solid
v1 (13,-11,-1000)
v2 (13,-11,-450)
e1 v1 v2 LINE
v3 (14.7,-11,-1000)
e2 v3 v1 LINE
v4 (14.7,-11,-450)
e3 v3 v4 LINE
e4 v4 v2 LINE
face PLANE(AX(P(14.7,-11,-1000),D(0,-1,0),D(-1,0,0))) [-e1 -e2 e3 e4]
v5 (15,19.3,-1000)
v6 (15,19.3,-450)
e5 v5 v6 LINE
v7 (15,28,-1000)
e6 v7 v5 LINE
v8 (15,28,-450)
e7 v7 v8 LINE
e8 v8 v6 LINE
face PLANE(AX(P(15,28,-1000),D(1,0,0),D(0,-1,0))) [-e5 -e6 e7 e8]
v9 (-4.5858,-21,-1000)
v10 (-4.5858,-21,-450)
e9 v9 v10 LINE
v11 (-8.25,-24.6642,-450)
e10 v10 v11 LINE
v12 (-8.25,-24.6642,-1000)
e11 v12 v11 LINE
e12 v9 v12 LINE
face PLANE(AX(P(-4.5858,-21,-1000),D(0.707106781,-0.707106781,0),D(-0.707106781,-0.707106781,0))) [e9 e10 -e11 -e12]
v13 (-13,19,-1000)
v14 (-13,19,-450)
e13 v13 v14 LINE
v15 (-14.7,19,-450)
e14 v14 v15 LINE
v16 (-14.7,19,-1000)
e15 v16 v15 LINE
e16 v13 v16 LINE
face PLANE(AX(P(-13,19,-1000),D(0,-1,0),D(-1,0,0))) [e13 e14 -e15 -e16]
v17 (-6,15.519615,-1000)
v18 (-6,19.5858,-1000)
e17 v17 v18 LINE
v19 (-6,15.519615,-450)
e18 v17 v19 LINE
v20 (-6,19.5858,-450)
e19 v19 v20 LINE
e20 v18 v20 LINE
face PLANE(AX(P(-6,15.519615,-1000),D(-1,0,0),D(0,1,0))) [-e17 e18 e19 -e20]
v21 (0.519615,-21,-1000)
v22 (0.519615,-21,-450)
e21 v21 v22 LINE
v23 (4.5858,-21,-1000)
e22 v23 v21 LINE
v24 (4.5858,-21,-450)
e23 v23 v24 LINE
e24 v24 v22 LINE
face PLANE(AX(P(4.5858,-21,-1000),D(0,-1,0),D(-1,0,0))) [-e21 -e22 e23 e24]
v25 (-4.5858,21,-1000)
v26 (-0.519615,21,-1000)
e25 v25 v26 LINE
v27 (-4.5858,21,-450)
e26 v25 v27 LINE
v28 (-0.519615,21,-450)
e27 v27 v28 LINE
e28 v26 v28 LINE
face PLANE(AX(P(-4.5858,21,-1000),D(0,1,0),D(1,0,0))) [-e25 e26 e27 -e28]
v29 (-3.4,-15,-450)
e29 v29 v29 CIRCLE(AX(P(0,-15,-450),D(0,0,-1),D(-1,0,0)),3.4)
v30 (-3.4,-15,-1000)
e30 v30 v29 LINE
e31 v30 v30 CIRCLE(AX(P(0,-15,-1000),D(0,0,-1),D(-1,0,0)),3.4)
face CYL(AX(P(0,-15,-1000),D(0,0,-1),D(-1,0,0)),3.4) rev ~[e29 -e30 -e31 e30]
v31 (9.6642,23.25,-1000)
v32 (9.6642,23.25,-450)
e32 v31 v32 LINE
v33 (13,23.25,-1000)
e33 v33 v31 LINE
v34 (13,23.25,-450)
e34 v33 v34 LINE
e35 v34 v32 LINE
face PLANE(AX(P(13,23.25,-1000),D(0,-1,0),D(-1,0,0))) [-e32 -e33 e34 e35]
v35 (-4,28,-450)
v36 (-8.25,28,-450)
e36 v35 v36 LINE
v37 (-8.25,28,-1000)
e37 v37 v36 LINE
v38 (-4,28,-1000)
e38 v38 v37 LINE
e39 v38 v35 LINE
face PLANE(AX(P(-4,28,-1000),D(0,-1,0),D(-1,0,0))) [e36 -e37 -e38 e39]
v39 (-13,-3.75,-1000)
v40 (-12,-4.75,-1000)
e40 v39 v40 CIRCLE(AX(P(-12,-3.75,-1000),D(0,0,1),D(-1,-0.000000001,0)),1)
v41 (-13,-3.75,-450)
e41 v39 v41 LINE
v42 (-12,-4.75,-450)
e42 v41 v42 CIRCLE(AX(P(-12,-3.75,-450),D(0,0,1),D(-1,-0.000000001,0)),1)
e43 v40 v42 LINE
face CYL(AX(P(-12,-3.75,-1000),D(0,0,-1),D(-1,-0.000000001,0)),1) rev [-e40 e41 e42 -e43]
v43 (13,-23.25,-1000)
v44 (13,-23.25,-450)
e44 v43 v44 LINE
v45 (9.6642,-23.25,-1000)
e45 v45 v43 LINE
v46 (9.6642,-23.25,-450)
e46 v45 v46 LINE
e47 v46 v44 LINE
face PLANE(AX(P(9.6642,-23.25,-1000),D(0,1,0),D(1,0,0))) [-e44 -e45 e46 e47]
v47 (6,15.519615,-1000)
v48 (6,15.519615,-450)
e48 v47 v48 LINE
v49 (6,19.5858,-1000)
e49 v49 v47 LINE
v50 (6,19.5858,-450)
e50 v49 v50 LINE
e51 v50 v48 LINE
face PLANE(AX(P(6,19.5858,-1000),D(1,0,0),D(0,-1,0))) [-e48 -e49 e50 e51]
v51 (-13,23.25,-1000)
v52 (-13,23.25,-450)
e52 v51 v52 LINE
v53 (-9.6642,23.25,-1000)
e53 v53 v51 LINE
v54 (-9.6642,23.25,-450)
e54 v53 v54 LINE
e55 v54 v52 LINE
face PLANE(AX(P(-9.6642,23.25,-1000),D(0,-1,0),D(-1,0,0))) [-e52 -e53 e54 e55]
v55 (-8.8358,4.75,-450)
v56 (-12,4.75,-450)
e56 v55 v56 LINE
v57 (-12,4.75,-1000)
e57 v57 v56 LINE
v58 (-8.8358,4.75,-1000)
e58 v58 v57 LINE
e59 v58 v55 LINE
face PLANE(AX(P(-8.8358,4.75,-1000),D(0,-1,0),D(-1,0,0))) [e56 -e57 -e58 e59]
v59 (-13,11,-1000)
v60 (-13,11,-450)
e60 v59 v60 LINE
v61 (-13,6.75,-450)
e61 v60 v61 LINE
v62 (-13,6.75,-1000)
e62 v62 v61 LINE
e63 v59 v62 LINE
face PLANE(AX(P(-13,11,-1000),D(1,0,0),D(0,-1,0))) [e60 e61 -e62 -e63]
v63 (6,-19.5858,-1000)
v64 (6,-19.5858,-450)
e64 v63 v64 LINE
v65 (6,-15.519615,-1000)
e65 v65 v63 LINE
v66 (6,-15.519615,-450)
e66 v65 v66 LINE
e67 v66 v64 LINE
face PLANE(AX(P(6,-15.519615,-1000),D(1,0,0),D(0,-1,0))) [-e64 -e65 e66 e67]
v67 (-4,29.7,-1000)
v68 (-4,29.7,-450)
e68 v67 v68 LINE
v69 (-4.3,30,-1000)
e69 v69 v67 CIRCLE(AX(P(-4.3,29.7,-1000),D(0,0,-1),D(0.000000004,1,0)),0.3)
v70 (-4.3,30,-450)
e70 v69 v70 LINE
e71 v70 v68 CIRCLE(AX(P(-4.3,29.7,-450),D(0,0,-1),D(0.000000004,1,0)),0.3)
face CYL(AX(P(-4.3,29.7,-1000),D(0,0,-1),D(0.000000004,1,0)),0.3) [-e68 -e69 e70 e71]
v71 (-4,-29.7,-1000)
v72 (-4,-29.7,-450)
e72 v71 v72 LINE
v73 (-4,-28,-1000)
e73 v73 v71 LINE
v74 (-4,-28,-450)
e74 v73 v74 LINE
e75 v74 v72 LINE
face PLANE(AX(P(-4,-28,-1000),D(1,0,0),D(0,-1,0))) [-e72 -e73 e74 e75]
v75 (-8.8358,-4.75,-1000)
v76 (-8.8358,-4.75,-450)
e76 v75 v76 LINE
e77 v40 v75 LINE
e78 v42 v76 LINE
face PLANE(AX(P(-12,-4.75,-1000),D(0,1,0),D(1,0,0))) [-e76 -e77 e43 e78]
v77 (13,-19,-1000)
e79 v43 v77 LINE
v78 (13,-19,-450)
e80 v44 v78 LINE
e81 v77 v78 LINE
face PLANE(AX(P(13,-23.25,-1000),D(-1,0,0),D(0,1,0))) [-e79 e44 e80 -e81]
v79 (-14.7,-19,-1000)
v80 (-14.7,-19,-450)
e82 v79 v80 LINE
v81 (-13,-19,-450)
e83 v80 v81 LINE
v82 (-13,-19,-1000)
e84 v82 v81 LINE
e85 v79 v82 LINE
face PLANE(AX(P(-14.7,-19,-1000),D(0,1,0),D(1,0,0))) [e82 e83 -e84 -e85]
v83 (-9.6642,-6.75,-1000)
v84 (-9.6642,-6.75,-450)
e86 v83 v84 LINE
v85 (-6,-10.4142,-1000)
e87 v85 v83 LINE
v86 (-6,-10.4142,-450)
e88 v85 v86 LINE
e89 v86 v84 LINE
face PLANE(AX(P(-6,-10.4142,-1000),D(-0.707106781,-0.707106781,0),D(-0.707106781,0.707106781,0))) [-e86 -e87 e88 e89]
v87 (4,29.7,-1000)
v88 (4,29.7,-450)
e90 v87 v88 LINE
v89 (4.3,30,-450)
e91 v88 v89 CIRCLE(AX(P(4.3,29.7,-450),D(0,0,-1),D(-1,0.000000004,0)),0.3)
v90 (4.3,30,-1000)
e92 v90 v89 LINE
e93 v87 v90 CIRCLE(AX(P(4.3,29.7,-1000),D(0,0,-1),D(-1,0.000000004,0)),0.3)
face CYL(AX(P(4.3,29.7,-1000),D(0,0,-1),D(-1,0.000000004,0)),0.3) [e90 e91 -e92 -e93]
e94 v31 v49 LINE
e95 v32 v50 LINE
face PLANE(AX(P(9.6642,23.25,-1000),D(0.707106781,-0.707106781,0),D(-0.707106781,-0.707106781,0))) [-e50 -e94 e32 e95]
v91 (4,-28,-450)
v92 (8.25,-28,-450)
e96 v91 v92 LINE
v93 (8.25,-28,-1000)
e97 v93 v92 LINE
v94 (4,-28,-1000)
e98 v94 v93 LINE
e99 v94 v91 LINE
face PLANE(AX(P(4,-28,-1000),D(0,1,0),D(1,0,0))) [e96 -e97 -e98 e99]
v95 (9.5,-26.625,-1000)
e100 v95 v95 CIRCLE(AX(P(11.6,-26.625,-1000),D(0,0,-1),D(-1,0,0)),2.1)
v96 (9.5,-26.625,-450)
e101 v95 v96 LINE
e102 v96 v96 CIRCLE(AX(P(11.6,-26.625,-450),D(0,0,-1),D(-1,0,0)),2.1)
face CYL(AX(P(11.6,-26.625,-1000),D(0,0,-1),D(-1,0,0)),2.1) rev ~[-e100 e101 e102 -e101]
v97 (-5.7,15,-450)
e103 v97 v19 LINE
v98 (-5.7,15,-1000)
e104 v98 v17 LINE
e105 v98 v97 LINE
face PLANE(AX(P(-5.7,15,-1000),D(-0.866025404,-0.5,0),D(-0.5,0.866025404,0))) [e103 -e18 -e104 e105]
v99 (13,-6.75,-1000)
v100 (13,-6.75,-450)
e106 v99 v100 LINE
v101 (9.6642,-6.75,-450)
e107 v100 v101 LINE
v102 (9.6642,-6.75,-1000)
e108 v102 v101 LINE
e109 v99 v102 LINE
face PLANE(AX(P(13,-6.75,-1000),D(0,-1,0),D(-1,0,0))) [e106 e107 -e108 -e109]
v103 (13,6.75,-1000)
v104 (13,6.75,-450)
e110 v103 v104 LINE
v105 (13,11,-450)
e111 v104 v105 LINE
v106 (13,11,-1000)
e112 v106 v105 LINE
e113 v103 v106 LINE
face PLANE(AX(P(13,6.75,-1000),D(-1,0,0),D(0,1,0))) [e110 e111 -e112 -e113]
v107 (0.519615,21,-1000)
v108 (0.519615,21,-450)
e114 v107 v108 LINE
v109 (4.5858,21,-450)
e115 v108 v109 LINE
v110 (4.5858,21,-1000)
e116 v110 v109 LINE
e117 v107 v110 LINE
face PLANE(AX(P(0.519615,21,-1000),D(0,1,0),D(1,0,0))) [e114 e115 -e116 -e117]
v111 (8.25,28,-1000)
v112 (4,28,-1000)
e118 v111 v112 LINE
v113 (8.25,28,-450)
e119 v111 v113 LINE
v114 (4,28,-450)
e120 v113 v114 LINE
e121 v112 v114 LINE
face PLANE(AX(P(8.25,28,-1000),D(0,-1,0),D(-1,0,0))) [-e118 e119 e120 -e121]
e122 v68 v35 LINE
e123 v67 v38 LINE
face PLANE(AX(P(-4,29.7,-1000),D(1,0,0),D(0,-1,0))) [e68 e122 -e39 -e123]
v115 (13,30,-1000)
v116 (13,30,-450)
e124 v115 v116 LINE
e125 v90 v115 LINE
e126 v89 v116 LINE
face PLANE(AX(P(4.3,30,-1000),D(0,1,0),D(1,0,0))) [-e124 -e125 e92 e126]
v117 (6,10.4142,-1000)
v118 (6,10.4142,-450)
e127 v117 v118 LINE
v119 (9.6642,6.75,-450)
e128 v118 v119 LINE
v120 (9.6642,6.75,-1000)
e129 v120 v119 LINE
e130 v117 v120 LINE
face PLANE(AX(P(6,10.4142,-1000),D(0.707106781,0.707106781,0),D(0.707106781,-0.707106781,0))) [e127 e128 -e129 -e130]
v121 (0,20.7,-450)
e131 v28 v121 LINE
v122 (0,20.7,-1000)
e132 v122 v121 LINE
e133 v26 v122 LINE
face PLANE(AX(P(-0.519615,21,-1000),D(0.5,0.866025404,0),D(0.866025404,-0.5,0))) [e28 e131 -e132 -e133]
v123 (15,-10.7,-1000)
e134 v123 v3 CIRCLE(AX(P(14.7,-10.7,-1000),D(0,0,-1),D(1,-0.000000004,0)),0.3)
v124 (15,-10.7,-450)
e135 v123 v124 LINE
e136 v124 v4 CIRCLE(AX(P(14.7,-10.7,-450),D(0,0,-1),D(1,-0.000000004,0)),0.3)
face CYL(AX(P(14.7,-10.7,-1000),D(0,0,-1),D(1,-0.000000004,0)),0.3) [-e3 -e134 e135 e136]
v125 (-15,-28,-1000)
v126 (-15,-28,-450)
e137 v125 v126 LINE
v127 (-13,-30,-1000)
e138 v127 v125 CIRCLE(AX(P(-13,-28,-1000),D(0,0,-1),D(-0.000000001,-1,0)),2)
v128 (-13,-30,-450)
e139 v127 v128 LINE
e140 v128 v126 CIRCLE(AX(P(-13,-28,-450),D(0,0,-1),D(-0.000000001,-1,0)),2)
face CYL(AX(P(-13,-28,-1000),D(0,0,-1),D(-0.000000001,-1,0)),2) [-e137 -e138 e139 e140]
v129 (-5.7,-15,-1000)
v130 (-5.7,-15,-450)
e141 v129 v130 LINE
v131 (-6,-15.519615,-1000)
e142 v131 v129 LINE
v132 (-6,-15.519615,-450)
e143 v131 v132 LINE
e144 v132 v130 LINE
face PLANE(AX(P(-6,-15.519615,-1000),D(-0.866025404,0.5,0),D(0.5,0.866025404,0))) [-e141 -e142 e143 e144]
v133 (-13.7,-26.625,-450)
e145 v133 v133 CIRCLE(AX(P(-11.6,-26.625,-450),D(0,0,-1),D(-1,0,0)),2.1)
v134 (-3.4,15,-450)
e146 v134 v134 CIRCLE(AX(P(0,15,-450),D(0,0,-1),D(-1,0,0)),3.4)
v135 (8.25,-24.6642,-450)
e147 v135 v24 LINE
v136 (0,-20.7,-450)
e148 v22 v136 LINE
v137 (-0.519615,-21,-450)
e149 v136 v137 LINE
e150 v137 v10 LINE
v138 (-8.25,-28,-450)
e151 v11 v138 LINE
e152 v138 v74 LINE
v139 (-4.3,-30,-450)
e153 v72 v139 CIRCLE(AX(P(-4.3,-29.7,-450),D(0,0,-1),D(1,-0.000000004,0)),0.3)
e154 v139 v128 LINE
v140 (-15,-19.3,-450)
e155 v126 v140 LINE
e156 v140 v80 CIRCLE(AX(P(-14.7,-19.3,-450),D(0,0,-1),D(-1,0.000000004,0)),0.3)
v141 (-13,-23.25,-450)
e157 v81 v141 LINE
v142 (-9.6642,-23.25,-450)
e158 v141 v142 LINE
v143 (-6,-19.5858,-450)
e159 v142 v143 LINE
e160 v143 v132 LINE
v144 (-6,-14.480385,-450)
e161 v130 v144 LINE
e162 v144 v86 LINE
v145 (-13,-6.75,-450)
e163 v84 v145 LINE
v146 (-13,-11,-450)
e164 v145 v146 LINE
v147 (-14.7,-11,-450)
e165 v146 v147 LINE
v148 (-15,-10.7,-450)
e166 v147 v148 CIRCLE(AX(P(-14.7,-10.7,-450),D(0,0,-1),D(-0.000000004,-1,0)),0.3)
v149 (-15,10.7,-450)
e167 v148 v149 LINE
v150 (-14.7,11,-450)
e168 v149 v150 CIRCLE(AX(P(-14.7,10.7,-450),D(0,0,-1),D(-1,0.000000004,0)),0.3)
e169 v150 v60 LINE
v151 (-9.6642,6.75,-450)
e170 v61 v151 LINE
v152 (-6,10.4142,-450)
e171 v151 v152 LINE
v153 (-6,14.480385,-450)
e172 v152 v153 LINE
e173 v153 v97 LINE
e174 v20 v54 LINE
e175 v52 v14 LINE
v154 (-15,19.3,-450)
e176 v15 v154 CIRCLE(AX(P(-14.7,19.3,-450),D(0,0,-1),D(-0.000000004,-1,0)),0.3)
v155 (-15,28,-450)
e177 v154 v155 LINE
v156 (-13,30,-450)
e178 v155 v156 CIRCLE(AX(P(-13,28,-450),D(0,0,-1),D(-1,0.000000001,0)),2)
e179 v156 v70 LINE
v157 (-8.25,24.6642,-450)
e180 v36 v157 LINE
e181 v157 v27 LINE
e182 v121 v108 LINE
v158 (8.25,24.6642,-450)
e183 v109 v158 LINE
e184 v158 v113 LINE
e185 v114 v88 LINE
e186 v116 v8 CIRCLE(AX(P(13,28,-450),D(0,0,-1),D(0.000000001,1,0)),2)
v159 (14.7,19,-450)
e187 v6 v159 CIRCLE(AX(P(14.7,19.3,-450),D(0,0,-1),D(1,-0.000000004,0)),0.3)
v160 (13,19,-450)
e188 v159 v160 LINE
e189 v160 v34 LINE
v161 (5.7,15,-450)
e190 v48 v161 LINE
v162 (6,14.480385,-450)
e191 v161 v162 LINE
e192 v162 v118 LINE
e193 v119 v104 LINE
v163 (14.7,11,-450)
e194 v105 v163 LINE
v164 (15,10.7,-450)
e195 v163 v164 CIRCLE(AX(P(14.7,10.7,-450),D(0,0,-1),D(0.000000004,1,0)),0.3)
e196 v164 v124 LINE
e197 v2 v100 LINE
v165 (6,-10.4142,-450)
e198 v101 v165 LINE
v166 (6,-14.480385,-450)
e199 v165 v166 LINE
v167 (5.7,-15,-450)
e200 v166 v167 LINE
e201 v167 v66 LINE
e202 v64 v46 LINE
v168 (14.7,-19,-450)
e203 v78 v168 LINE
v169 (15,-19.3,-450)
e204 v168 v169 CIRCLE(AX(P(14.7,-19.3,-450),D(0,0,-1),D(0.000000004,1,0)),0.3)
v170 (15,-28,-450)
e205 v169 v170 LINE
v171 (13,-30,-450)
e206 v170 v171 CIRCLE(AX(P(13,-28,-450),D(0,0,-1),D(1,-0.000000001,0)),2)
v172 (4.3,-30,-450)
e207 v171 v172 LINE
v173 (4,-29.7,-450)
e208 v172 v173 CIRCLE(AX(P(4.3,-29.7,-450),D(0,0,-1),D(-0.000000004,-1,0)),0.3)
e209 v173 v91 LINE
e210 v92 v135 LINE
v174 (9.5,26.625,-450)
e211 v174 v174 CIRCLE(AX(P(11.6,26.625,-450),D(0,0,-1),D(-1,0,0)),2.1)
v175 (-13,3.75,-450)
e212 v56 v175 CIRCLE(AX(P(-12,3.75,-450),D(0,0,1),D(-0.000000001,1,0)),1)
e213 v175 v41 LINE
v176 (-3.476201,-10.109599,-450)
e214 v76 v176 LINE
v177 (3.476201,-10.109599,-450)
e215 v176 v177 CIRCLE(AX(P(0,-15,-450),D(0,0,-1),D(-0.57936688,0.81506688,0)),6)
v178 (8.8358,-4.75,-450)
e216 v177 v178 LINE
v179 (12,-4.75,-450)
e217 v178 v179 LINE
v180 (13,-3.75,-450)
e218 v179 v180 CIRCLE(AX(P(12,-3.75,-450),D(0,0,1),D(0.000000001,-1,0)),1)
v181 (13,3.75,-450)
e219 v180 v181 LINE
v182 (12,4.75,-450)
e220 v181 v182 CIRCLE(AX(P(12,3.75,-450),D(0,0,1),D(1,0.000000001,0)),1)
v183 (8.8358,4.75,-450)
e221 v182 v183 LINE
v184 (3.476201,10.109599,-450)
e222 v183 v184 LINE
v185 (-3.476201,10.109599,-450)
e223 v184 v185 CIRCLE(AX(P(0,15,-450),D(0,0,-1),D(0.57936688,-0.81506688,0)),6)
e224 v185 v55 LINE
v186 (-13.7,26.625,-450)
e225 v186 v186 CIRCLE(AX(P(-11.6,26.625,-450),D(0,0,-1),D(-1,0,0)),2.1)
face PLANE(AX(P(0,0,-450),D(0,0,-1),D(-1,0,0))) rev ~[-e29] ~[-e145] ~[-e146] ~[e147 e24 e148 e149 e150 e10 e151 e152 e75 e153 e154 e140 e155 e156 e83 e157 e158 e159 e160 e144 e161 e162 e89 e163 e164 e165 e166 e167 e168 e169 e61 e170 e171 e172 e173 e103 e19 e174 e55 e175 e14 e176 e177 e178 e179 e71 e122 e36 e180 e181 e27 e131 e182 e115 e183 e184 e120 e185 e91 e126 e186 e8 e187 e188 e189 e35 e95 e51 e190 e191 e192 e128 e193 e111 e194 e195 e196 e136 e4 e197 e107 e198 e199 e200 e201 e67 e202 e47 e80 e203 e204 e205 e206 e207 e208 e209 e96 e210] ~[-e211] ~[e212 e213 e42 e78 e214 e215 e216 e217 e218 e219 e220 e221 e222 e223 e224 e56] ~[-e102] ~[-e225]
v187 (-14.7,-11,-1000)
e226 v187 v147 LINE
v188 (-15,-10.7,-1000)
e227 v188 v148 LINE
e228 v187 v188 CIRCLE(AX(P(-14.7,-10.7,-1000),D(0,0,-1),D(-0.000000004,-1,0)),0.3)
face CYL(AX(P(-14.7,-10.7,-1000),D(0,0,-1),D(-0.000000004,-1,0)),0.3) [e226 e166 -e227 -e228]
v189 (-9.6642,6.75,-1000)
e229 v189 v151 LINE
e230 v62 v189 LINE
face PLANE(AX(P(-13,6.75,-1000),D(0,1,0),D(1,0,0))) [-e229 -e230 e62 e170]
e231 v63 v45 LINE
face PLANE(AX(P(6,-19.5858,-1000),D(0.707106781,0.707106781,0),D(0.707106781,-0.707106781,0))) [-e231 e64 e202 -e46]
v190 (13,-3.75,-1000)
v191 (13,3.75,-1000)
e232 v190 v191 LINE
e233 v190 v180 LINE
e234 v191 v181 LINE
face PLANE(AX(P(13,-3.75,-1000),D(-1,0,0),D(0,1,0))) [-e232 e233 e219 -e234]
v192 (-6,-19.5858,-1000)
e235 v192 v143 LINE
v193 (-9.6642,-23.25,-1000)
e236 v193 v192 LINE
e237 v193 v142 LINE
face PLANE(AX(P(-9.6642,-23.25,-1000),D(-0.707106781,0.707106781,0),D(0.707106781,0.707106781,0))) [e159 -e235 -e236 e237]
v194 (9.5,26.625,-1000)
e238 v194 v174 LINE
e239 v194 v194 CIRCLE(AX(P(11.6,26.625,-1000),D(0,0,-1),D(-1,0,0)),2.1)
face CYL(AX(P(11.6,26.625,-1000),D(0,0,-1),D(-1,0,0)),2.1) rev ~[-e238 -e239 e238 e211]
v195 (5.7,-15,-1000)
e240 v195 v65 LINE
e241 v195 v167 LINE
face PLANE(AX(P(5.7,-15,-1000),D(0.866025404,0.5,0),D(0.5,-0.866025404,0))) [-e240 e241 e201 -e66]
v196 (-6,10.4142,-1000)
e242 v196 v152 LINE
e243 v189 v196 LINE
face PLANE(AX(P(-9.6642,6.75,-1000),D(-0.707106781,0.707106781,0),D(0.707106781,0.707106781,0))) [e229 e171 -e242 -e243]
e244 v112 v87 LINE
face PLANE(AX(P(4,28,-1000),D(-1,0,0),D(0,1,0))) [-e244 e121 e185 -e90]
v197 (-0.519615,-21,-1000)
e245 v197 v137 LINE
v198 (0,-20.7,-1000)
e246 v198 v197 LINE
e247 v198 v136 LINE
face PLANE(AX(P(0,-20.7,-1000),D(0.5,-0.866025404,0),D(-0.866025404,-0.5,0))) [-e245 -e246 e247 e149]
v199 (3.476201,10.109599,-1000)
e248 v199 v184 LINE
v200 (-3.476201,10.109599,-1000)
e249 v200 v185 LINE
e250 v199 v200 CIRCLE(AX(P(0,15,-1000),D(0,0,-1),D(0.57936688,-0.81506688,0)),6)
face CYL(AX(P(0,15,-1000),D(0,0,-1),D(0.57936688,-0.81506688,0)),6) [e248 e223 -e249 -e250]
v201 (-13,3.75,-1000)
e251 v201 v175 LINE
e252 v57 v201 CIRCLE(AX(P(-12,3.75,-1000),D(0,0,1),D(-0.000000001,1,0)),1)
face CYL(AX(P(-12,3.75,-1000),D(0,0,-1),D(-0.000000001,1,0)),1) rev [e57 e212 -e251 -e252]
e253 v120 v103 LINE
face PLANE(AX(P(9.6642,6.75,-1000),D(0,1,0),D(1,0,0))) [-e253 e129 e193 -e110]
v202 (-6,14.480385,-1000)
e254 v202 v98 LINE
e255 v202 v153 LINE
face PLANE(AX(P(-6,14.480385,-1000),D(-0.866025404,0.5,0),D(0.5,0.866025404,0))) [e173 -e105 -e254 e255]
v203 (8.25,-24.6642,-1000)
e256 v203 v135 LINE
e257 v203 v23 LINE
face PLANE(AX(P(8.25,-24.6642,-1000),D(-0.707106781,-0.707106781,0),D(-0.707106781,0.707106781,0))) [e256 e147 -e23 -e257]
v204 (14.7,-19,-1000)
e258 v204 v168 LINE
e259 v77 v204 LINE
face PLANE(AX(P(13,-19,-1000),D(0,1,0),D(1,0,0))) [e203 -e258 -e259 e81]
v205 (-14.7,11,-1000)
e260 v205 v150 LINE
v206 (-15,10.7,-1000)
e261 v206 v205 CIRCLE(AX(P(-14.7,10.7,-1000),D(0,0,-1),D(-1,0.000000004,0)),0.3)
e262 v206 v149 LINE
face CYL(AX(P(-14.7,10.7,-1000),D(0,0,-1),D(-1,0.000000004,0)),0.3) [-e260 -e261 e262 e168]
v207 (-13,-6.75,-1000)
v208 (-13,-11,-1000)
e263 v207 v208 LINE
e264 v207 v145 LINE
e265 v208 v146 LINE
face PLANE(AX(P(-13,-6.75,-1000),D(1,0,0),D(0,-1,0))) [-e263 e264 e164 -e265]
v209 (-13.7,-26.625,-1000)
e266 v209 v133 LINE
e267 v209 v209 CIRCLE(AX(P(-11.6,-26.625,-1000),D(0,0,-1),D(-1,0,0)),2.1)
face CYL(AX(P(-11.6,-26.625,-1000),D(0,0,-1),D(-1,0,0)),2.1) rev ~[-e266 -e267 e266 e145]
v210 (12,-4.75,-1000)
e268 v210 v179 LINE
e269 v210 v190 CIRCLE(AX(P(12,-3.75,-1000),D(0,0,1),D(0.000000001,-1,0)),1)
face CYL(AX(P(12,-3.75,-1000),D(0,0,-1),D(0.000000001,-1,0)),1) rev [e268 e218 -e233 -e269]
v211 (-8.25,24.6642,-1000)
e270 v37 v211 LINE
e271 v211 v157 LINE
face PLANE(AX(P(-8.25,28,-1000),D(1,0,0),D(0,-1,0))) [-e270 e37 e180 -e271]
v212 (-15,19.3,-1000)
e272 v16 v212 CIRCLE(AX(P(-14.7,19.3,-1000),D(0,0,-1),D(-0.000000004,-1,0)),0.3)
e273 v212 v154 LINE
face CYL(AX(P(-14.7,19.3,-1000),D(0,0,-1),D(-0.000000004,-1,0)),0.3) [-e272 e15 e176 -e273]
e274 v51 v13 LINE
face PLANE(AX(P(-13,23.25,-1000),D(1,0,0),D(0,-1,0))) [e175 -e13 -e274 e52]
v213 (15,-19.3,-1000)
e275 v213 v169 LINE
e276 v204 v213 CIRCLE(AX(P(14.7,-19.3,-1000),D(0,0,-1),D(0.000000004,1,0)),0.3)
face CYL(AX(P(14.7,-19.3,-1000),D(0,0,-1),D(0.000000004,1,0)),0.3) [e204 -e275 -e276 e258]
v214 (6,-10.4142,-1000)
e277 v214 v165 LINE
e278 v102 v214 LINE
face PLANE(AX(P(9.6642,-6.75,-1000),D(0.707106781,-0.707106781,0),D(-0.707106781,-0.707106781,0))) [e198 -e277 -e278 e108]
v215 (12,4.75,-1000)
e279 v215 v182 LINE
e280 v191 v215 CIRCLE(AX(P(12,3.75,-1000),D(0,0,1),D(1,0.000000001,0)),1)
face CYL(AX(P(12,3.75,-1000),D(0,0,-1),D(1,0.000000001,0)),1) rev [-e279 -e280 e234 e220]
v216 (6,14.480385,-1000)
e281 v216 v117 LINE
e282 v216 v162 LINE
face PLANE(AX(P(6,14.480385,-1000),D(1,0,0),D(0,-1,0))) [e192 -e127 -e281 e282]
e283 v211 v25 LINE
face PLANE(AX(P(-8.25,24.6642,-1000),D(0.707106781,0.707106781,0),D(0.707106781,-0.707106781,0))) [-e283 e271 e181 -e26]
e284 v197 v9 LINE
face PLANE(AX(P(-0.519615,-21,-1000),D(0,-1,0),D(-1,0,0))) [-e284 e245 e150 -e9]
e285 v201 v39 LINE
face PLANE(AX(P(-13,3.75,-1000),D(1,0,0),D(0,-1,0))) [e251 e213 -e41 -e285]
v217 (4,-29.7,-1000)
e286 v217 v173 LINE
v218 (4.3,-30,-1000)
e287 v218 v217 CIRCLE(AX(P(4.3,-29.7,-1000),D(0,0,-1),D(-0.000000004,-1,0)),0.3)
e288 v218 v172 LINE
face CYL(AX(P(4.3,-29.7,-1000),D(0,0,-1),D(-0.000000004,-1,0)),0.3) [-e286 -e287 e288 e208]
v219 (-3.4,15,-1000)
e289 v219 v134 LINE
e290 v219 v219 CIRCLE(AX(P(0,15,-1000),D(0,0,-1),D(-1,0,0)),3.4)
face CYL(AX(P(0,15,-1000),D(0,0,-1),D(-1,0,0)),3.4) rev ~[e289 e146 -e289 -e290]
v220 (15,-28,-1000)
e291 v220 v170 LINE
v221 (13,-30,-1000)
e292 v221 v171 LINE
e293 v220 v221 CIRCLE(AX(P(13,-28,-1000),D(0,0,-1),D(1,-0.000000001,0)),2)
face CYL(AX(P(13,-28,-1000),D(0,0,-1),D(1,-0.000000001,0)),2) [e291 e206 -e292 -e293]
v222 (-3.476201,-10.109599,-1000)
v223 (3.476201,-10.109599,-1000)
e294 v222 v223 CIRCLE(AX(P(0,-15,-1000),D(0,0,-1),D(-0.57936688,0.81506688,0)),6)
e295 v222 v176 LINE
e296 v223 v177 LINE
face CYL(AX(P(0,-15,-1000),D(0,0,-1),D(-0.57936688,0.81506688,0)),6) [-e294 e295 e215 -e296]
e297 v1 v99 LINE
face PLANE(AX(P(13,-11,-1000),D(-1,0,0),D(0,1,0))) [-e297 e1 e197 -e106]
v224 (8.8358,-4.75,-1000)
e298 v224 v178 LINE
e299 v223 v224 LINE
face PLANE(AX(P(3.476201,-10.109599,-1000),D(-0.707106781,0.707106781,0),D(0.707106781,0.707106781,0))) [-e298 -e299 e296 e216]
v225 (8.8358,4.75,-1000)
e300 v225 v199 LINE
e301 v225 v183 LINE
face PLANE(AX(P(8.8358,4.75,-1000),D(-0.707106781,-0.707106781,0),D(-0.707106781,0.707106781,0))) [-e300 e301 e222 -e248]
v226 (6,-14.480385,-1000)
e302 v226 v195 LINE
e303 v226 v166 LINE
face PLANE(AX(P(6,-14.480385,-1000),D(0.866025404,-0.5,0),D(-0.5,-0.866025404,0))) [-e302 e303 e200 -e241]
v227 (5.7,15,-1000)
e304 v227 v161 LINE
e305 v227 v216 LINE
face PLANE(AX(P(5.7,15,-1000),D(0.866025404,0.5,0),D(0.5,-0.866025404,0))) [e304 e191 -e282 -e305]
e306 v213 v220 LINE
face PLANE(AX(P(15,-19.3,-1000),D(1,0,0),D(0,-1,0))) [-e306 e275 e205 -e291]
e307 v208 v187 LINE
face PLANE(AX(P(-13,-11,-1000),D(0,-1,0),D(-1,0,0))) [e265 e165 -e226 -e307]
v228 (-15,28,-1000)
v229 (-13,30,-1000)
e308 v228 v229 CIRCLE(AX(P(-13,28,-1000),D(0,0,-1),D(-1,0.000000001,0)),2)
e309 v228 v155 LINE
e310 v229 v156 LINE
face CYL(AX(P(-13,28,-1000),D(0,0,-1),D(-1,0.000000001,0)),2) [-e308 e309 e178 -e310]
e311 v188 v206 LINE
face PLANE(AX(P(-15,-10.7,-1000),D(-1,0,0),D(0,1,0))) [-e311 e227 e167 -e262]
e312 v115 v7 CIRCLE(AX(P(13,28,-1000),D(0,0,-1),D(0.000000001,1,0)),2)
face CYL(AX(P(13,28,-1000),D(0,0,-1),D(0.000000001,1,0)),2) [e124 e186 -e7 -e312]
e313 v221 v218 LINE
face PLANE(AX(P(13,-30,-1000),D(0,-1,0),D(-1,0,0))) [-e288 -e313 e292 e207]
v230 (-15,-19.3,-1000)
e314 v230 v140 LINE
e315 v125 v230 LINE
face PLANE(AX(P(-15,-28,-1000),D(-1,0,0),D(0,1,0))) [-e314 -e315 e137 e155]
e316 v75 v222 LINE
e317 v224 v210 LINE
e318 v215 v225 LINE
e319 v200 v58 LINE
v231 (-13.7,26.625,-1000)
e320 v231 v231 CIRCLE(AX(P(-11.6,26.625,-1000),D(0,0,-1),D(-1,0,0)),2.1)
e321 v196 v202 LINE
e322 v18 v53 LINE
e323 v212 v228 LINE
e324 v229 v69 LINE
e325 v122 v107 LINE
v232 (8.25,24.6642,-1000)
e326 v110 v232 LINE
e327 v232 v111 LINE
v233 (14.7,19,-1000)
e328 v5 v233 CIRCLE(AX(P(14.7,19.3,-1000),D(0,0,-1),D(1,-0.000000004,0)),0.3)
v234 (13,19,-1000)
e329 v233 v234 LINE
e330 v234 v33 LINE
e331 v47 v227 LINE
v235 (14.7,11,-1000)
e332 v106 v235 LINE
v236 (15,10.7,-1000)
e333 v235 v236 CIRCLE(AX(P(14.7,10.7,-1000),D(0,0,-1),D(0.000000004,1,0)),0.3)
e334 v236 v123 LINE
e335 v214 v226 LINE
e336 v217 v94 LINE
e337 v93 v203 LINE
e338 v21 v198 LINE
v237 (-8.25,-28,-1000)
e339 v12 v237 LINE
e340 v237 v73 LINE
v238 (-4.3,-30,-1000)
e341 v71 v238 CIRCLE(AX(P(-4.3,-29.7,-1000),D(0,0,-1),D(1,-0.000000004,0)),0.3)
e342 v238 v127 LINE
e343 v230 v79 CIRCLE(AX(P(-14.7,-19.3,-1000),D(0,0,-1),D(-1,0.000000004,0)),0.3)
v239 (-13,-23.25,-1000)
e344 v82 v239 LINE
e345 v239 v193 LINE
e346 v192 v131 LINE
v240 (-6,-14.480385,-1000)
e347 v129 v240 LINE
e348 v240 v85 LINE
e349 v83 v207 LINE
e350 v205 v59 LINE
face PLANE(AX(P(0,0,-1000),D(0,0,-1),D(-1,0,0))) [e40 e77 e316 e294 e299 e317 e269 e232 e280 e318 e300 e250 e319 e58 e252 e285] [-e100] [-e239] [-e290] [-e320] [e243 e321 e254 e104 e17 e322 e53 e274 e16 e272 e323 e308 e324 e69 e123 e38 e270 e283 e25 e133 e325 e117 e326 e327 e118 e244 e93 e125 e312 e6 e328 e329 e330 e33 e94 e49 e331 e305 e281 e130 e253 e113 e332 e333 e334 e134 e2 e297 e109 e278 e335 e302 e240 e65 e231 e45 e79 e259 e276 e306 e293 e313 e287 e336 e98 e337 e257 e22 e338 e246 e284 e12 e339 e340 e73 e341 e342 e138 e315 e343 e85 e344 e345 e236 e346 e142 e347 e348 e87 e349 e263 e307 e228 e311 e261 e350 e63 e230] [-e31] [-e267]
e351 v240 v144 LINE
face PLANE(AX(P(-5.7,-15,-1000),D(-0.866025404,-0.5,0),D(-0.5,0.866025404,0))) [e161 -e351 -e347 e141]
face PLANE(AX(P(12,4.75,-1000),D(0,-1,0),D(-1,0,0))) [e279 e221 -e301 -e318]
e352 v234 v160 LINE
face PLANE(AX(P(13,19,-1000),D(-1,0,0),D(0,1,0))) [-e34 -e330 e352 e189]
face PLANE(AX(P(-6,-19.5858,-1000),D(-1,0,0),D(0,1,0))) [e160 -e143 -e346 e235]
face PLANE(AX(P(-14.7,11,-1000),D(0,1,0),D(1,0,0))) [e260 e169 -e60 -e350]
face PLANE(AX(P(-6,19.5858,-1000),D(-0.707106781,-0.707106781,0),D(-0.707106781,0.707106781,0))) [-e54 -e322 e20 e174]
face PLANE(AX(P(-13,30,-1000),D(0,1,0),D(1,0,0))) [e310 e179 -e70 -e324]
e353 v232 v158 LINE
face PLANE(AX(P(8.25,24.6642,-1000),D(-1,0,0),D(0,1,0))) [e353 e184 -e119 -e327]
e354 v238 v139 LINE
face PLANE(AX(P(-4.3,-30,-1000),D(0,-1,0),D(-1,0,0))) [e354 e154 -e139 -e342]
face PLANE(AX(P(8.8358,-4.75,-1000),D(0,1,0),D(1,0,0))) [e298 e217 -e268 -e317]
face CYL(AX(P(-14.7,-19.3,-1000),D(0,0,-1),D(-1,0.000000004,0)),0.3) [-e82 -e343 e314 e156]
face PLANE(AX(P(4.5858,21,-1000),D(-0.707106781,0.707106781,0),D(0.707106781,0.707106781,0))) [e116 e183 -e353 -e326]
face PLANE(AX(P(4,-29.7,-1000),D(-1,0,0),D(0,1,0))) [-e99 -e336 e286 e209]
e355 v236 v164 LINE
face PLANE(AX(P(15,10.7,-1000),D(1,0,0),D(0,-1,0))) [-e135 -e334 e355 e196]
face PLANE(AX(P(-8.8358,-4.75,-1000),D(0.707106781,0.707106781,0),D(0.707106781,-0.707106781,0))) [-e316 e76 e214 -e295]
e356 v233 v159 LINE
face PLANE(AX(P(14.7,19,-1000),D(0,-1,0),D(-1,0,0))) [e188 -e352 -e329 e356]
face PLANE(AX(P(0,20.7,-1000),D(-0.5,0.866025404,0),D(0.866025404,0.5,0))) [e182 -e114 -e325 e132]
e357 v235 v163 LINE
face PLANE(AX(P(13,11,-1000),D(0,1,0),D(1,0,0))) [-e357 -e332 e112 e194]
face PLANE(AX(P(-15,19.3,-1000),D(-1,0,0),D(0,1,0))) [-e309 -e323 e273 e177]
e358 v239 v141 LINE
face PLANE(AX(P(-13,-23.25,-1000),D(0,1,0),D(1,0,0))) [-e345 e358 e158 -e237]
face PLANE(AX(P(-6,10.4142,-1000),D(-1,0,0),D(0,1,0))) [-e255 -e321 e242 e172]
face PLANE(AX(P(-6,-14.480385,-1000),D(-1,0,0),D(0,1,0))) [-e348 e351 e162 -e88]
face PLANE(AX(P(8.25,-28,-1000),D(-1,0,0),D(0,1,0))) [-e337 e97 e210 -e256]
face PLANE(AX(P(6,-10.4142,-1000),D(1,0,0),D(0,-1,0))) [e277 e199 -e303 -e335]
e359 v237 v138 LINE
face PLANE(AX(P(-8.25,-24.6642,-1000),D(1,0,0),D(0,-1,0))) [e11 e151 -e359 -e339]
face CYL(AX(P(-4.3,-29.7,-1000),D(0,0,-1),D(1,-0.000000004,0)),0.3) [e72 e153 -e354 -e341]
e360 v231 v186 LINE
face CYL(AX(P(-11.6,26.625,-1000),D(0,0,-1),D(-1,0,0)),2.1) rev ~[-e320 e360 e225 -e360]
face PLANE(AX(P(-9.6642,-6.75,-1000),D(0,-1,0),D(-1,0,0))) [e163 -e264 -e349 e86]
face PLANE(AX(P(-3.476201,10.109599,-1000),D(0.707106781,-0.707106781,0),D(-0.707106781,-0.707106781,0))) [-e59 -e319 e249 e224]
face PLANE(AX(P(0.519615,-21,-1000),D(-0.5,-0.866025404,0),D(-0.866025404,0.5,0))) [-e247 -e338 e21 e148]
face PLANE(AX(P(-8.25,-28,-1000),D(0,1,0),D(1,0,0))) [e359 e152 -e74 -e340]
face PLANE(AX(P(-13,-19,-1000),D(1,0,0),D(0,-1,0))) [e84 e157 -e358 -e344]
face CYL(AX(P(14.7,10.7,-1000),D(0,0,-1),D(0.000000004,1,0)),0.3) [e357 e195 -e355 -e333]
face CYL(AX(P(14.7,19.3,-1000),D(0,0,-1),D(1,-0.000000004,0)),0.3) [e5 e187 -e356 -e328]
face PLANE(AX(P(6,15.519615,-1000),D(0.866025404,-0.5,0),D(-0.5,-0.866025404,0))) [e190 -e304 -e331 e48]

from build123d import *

# Parameters (mm, degrees)
SKETCH1_R           = 2.1
SKETCH1_R_2         = 3.4
BOSS_EXTRUDE1_DEPTH = 550


with BuildPart() as part:
    # Sketch1 → Boss-Extrude1 (new body)
    with BuildSketch(Plane(origin=(0, 0, -1000), x_dir=(-1, 0, 0), z_dir=(0, 0, -1))):
        with BuildLine():
            Line((15, -28), (15, -19.3))
            ThreePointArc((15, -19.3), (14.912132034, -19.087867966), (14.7, -19))
            Line((14.7, -19), (13, -19))
            Line((13, -19), (13, -23.25))
            Line((13, -23.25), (9.6642, -23.25))
            Line((9.6642, -23.25), (6, -19.5858))
            Line((6, -19.5858), (6, -15.519615242))
            Line((6, -15.519615242), (5.7, -15))
            Line((5.7, -15), (6, -14.480384758))
            Line((6, -14.480384758), (6, -10.4142))
            Line((6, -10.4142), (9.6642, -6.75))
            Line((9.6642, -6.75), (13, -6.75))
            Line((13, -6.75), (13, -11))
            Line((13, -11), (14.7, -11))
            ThreePointArc((14.7, -11), (14.912132034, -10.912132034), (15, -10.7))
            Line((15, -10.7), (15, 10.7))
            ThreePointArc((15, 10.7), (14.912132034, 10.912132034), (14.7, 11))
            Line((14.7, 11), (13, 11))
            Line((13, 11), (13, 6.75))
            Line((13, 6.75), (9.6642, 6.75))
            Line((9.6642, 6.75), (6, 10.4142))
            Line((6, 10.4142), (6, 14.480384758))
            Line((6, 14.480384758), (5.7, 15))
            Line((5.7, 15), (6, 15.519615242))
            Line((6, 15.519615242), (6, 19.5858))
            Line((6, 19.5858), (9.6642, 23.25))
            Line((9.6642, 23.25), (13, 23.25))
            Line((13, 23.25), (13, 19))
            Line((13, 19), (14.7, 19))
            ThreePointArc((14.7, 19), (14.912132034, 19.087867966), (15, 19.3))
            Line((15, 19.3), (15, 28))
            ThreePointArc((15, 28), (14.414213562, 29.414213562), (13, 30))
            Line((13, 30), (4.3, 30))
            ThreePointArc((4.3, 30), (4.087867966, 29.912132034), (4, 29.7))
            Line((4, 29.7), (4, 28))
            Line((4, 28), (8.25, 28))
            Line((8.25, 28), (8.25, 24.6642))
            Line((8.25, 24.6642), (4.5858, 21))
            Line((4.5858, 21), (0.519615242, 21))
            Line((0.519615242, 21), (0, 20.7))
            Line((0, 20.7), (-0.519615242, 21))
            Line((-0.519615242, 21), (-4.5858, 21))
            Line((-4.5858, 21), (-8.25, 24.6642))
            Line((-8.25, 24.6642), (-8.25, 28))
            Line((-8.25, 28), (-4, 28))
            Line((-4, 28), (-4, 29.7))
            ThreePointArc((-4, 29.7), (-4.087867966, 29.912132034), (-4.3, 30))
            Line((-4.3, 30), (-13, 30))
            ThreePointArc((-13, 30), (-14.414213562, 29.414213562), (-15, 28))
            Line((-15, 28), (-15, 19.3))
            ThreePointArc((-15, 19.3), (-14.912132034, 19.087867966), (-14.7, 19))
            Line((-14.7, 19), (-13, 19))
            Line((-13, 19), (-13, 23.25))
            Line((-13, 23.25), (-9.6642, 23.25))
            Line((-9.6642, 23.25), (-6, 19.5858))
            Line((-6, 19.5858), (-6, 15.519615242))
            Line((-6, 15.519615242), (-5.7, 15))
            Line((-5.7, 15), (-6, 14.480384758))
            Line((-6, 14.480384758), (-6, 10.4142))
            Line((-6, 10.4142), (-9.6642, 6.75))
            Line((-9.6642, 6.75), (-13, 6.75))
            Line((-13, 6.75), (-13, 11))
            Line((-13, 11), (-14.7, 11))
            ThreePointArc((-14.7, 11), (-14.912132034, 10.912132034), (-15, 10.7))
            Line((-15, 10.7), (-15, -10.7))
            ThreePointArc((-15, -10.7), (-14.912132034, -10.912132034), (-14.7, -11))
            Line((-14.7, -11), (-13, -11))
            Line((-13, -11), (-13, -6.75))
            Line((-13, -6.75), (-9.6642, -6.75))
            Line((-9.6642, -6.75), (-6, -10.4142))
            Line((-6, -10.4142), (-6, -14.480384758))
            Line((-6, -14.480384758), (-5.7, -15))
            Line((-5.7, -15), (-6, -15.519615242))
            Line((-6, -15.519615242), (-6, -19.5858))
            Line((-6, -19.5858), (-9.6642, -23.25))
            Line((-9.6642, -23.25), (-13, -23.25))
            Line((-13, -23.25), (-13, -19))
            Line((-13, -19), (-14.7, -19))
            ThreePointArc((-14.7, -19), (-14.912132034, -19.087867966), (-15, -19.3))
            Line((-15, -19.3), (-15, -28))
            ThreePointArc((-15, -28), (-14.414213562, -29.414213562), (-13, -30))
            Line((-13, -30), (-4.3, -30))
            ThreePointArc((-4.3, -30), (-4.087867966, -29.912132034), (-4, -29.7))
            Line((-4, -29.7), (-4, -28))
            Line((-4, -28), (-8.25, -28))
            Line((-8.25, -28), (-8.25, -24.6642))
            Line((-8.25, -24.6642), (-4.5858, -21))
            Line((-4.5858, -21), (-0.519615242, -21))
            Line((-0.519615242, -21), (0, -20.7))
            Line((0, -20.7), (0.519615242, -21))
            Line((0.519615242, -21), (4.5858, -21))
            Line((4.5858, -21), (8.25, -24.6642))
            Line((8.25, -24.6642), (8.25, -28))
            Line((8.25, -28), (4, -28))
            Line((4, -28), (4, -29.7))
            ThreePointArc((4, -29.7), (4.087867966, -29.912132034), (4.3, -30))
            Line((4.3, -30), (13, -30))
            ThreePointArc((13, -30), (14.414213562, -29.414213562), (15, -28))
        make_face()
        with Locations((11.6, 26.625)):
            Circle(SKETCH1_R, mode=Mode.SUBTRACT)
        with Locations((11.6, -26.625)):
            Circle(SKETCH1_R, mode=Mode.SUBTRACT)
        with Locations((0, -15)):
            Circle(SKETCH1_R_2, mode=Mode.SUBTRACT)
        with Locations((0, 15)):
            Circle(SKETCH1_R_2, mode=Mode.SUBTRACT)
        with Locations((-11.6, 26.625)):
            Circle(SKETCH1_R, mode=Mode.SUBTRACT)
        with Locations((-11.6, -26.625)):
            Circle(SKETCH1_R, mode=Mode.SUBTRACT)
        with BuildLine():
            Line((13, 3.75), (13, -3.75))
            ThreePointArc((13, -3.75), (12.707106781, -4.457106781), (12, -4.75))
            Line((12, -4.75), (8.8358, -4.75))
            Line((8.8358, -4.75), (3.476201279, -10.109598721))
            ThreePointArc((3.476201279, -10.109598721), (0, -9), (-3.476201279, -10.109598721))
            Line((-3.476201279, -10.109598721), (-8.8358, -4.75))
            Line((-8.8358, -4.75), (-12, -4.75))
            ThreePointArc((-12, -4.75), (-12.707106781, -4.457106781), (-13, -3.75))
            Line((-13, -3.75), (-13, 3.75))
            ThreePointArc((-13, 3.75), (-12.707106781, 4.457106781), (-12, 4.75))
            Line((-12, 4.75), (-8.8358, 4.75))
            Line((-8.8358, 4.75), (-3.476201279, 10.109598721))
            ThreePointArc((-3.476201279, 10.109598721), (0, 9), (3.476201279, 10.109598721))
            Line((3.476201279, 10.109598721), (8.8358, 4.75))
            Line((8.8358, 4.75), (12, 4.75))
            ThreePointArc((12, 4.75), (12.707106781, 4.457106781), (13, 3.75))
        make_face(mode=Mode.SUBTRACT)
    extrude(amount=-BOSS_EXTRUDE1_DEPTH)


solid = part.part
